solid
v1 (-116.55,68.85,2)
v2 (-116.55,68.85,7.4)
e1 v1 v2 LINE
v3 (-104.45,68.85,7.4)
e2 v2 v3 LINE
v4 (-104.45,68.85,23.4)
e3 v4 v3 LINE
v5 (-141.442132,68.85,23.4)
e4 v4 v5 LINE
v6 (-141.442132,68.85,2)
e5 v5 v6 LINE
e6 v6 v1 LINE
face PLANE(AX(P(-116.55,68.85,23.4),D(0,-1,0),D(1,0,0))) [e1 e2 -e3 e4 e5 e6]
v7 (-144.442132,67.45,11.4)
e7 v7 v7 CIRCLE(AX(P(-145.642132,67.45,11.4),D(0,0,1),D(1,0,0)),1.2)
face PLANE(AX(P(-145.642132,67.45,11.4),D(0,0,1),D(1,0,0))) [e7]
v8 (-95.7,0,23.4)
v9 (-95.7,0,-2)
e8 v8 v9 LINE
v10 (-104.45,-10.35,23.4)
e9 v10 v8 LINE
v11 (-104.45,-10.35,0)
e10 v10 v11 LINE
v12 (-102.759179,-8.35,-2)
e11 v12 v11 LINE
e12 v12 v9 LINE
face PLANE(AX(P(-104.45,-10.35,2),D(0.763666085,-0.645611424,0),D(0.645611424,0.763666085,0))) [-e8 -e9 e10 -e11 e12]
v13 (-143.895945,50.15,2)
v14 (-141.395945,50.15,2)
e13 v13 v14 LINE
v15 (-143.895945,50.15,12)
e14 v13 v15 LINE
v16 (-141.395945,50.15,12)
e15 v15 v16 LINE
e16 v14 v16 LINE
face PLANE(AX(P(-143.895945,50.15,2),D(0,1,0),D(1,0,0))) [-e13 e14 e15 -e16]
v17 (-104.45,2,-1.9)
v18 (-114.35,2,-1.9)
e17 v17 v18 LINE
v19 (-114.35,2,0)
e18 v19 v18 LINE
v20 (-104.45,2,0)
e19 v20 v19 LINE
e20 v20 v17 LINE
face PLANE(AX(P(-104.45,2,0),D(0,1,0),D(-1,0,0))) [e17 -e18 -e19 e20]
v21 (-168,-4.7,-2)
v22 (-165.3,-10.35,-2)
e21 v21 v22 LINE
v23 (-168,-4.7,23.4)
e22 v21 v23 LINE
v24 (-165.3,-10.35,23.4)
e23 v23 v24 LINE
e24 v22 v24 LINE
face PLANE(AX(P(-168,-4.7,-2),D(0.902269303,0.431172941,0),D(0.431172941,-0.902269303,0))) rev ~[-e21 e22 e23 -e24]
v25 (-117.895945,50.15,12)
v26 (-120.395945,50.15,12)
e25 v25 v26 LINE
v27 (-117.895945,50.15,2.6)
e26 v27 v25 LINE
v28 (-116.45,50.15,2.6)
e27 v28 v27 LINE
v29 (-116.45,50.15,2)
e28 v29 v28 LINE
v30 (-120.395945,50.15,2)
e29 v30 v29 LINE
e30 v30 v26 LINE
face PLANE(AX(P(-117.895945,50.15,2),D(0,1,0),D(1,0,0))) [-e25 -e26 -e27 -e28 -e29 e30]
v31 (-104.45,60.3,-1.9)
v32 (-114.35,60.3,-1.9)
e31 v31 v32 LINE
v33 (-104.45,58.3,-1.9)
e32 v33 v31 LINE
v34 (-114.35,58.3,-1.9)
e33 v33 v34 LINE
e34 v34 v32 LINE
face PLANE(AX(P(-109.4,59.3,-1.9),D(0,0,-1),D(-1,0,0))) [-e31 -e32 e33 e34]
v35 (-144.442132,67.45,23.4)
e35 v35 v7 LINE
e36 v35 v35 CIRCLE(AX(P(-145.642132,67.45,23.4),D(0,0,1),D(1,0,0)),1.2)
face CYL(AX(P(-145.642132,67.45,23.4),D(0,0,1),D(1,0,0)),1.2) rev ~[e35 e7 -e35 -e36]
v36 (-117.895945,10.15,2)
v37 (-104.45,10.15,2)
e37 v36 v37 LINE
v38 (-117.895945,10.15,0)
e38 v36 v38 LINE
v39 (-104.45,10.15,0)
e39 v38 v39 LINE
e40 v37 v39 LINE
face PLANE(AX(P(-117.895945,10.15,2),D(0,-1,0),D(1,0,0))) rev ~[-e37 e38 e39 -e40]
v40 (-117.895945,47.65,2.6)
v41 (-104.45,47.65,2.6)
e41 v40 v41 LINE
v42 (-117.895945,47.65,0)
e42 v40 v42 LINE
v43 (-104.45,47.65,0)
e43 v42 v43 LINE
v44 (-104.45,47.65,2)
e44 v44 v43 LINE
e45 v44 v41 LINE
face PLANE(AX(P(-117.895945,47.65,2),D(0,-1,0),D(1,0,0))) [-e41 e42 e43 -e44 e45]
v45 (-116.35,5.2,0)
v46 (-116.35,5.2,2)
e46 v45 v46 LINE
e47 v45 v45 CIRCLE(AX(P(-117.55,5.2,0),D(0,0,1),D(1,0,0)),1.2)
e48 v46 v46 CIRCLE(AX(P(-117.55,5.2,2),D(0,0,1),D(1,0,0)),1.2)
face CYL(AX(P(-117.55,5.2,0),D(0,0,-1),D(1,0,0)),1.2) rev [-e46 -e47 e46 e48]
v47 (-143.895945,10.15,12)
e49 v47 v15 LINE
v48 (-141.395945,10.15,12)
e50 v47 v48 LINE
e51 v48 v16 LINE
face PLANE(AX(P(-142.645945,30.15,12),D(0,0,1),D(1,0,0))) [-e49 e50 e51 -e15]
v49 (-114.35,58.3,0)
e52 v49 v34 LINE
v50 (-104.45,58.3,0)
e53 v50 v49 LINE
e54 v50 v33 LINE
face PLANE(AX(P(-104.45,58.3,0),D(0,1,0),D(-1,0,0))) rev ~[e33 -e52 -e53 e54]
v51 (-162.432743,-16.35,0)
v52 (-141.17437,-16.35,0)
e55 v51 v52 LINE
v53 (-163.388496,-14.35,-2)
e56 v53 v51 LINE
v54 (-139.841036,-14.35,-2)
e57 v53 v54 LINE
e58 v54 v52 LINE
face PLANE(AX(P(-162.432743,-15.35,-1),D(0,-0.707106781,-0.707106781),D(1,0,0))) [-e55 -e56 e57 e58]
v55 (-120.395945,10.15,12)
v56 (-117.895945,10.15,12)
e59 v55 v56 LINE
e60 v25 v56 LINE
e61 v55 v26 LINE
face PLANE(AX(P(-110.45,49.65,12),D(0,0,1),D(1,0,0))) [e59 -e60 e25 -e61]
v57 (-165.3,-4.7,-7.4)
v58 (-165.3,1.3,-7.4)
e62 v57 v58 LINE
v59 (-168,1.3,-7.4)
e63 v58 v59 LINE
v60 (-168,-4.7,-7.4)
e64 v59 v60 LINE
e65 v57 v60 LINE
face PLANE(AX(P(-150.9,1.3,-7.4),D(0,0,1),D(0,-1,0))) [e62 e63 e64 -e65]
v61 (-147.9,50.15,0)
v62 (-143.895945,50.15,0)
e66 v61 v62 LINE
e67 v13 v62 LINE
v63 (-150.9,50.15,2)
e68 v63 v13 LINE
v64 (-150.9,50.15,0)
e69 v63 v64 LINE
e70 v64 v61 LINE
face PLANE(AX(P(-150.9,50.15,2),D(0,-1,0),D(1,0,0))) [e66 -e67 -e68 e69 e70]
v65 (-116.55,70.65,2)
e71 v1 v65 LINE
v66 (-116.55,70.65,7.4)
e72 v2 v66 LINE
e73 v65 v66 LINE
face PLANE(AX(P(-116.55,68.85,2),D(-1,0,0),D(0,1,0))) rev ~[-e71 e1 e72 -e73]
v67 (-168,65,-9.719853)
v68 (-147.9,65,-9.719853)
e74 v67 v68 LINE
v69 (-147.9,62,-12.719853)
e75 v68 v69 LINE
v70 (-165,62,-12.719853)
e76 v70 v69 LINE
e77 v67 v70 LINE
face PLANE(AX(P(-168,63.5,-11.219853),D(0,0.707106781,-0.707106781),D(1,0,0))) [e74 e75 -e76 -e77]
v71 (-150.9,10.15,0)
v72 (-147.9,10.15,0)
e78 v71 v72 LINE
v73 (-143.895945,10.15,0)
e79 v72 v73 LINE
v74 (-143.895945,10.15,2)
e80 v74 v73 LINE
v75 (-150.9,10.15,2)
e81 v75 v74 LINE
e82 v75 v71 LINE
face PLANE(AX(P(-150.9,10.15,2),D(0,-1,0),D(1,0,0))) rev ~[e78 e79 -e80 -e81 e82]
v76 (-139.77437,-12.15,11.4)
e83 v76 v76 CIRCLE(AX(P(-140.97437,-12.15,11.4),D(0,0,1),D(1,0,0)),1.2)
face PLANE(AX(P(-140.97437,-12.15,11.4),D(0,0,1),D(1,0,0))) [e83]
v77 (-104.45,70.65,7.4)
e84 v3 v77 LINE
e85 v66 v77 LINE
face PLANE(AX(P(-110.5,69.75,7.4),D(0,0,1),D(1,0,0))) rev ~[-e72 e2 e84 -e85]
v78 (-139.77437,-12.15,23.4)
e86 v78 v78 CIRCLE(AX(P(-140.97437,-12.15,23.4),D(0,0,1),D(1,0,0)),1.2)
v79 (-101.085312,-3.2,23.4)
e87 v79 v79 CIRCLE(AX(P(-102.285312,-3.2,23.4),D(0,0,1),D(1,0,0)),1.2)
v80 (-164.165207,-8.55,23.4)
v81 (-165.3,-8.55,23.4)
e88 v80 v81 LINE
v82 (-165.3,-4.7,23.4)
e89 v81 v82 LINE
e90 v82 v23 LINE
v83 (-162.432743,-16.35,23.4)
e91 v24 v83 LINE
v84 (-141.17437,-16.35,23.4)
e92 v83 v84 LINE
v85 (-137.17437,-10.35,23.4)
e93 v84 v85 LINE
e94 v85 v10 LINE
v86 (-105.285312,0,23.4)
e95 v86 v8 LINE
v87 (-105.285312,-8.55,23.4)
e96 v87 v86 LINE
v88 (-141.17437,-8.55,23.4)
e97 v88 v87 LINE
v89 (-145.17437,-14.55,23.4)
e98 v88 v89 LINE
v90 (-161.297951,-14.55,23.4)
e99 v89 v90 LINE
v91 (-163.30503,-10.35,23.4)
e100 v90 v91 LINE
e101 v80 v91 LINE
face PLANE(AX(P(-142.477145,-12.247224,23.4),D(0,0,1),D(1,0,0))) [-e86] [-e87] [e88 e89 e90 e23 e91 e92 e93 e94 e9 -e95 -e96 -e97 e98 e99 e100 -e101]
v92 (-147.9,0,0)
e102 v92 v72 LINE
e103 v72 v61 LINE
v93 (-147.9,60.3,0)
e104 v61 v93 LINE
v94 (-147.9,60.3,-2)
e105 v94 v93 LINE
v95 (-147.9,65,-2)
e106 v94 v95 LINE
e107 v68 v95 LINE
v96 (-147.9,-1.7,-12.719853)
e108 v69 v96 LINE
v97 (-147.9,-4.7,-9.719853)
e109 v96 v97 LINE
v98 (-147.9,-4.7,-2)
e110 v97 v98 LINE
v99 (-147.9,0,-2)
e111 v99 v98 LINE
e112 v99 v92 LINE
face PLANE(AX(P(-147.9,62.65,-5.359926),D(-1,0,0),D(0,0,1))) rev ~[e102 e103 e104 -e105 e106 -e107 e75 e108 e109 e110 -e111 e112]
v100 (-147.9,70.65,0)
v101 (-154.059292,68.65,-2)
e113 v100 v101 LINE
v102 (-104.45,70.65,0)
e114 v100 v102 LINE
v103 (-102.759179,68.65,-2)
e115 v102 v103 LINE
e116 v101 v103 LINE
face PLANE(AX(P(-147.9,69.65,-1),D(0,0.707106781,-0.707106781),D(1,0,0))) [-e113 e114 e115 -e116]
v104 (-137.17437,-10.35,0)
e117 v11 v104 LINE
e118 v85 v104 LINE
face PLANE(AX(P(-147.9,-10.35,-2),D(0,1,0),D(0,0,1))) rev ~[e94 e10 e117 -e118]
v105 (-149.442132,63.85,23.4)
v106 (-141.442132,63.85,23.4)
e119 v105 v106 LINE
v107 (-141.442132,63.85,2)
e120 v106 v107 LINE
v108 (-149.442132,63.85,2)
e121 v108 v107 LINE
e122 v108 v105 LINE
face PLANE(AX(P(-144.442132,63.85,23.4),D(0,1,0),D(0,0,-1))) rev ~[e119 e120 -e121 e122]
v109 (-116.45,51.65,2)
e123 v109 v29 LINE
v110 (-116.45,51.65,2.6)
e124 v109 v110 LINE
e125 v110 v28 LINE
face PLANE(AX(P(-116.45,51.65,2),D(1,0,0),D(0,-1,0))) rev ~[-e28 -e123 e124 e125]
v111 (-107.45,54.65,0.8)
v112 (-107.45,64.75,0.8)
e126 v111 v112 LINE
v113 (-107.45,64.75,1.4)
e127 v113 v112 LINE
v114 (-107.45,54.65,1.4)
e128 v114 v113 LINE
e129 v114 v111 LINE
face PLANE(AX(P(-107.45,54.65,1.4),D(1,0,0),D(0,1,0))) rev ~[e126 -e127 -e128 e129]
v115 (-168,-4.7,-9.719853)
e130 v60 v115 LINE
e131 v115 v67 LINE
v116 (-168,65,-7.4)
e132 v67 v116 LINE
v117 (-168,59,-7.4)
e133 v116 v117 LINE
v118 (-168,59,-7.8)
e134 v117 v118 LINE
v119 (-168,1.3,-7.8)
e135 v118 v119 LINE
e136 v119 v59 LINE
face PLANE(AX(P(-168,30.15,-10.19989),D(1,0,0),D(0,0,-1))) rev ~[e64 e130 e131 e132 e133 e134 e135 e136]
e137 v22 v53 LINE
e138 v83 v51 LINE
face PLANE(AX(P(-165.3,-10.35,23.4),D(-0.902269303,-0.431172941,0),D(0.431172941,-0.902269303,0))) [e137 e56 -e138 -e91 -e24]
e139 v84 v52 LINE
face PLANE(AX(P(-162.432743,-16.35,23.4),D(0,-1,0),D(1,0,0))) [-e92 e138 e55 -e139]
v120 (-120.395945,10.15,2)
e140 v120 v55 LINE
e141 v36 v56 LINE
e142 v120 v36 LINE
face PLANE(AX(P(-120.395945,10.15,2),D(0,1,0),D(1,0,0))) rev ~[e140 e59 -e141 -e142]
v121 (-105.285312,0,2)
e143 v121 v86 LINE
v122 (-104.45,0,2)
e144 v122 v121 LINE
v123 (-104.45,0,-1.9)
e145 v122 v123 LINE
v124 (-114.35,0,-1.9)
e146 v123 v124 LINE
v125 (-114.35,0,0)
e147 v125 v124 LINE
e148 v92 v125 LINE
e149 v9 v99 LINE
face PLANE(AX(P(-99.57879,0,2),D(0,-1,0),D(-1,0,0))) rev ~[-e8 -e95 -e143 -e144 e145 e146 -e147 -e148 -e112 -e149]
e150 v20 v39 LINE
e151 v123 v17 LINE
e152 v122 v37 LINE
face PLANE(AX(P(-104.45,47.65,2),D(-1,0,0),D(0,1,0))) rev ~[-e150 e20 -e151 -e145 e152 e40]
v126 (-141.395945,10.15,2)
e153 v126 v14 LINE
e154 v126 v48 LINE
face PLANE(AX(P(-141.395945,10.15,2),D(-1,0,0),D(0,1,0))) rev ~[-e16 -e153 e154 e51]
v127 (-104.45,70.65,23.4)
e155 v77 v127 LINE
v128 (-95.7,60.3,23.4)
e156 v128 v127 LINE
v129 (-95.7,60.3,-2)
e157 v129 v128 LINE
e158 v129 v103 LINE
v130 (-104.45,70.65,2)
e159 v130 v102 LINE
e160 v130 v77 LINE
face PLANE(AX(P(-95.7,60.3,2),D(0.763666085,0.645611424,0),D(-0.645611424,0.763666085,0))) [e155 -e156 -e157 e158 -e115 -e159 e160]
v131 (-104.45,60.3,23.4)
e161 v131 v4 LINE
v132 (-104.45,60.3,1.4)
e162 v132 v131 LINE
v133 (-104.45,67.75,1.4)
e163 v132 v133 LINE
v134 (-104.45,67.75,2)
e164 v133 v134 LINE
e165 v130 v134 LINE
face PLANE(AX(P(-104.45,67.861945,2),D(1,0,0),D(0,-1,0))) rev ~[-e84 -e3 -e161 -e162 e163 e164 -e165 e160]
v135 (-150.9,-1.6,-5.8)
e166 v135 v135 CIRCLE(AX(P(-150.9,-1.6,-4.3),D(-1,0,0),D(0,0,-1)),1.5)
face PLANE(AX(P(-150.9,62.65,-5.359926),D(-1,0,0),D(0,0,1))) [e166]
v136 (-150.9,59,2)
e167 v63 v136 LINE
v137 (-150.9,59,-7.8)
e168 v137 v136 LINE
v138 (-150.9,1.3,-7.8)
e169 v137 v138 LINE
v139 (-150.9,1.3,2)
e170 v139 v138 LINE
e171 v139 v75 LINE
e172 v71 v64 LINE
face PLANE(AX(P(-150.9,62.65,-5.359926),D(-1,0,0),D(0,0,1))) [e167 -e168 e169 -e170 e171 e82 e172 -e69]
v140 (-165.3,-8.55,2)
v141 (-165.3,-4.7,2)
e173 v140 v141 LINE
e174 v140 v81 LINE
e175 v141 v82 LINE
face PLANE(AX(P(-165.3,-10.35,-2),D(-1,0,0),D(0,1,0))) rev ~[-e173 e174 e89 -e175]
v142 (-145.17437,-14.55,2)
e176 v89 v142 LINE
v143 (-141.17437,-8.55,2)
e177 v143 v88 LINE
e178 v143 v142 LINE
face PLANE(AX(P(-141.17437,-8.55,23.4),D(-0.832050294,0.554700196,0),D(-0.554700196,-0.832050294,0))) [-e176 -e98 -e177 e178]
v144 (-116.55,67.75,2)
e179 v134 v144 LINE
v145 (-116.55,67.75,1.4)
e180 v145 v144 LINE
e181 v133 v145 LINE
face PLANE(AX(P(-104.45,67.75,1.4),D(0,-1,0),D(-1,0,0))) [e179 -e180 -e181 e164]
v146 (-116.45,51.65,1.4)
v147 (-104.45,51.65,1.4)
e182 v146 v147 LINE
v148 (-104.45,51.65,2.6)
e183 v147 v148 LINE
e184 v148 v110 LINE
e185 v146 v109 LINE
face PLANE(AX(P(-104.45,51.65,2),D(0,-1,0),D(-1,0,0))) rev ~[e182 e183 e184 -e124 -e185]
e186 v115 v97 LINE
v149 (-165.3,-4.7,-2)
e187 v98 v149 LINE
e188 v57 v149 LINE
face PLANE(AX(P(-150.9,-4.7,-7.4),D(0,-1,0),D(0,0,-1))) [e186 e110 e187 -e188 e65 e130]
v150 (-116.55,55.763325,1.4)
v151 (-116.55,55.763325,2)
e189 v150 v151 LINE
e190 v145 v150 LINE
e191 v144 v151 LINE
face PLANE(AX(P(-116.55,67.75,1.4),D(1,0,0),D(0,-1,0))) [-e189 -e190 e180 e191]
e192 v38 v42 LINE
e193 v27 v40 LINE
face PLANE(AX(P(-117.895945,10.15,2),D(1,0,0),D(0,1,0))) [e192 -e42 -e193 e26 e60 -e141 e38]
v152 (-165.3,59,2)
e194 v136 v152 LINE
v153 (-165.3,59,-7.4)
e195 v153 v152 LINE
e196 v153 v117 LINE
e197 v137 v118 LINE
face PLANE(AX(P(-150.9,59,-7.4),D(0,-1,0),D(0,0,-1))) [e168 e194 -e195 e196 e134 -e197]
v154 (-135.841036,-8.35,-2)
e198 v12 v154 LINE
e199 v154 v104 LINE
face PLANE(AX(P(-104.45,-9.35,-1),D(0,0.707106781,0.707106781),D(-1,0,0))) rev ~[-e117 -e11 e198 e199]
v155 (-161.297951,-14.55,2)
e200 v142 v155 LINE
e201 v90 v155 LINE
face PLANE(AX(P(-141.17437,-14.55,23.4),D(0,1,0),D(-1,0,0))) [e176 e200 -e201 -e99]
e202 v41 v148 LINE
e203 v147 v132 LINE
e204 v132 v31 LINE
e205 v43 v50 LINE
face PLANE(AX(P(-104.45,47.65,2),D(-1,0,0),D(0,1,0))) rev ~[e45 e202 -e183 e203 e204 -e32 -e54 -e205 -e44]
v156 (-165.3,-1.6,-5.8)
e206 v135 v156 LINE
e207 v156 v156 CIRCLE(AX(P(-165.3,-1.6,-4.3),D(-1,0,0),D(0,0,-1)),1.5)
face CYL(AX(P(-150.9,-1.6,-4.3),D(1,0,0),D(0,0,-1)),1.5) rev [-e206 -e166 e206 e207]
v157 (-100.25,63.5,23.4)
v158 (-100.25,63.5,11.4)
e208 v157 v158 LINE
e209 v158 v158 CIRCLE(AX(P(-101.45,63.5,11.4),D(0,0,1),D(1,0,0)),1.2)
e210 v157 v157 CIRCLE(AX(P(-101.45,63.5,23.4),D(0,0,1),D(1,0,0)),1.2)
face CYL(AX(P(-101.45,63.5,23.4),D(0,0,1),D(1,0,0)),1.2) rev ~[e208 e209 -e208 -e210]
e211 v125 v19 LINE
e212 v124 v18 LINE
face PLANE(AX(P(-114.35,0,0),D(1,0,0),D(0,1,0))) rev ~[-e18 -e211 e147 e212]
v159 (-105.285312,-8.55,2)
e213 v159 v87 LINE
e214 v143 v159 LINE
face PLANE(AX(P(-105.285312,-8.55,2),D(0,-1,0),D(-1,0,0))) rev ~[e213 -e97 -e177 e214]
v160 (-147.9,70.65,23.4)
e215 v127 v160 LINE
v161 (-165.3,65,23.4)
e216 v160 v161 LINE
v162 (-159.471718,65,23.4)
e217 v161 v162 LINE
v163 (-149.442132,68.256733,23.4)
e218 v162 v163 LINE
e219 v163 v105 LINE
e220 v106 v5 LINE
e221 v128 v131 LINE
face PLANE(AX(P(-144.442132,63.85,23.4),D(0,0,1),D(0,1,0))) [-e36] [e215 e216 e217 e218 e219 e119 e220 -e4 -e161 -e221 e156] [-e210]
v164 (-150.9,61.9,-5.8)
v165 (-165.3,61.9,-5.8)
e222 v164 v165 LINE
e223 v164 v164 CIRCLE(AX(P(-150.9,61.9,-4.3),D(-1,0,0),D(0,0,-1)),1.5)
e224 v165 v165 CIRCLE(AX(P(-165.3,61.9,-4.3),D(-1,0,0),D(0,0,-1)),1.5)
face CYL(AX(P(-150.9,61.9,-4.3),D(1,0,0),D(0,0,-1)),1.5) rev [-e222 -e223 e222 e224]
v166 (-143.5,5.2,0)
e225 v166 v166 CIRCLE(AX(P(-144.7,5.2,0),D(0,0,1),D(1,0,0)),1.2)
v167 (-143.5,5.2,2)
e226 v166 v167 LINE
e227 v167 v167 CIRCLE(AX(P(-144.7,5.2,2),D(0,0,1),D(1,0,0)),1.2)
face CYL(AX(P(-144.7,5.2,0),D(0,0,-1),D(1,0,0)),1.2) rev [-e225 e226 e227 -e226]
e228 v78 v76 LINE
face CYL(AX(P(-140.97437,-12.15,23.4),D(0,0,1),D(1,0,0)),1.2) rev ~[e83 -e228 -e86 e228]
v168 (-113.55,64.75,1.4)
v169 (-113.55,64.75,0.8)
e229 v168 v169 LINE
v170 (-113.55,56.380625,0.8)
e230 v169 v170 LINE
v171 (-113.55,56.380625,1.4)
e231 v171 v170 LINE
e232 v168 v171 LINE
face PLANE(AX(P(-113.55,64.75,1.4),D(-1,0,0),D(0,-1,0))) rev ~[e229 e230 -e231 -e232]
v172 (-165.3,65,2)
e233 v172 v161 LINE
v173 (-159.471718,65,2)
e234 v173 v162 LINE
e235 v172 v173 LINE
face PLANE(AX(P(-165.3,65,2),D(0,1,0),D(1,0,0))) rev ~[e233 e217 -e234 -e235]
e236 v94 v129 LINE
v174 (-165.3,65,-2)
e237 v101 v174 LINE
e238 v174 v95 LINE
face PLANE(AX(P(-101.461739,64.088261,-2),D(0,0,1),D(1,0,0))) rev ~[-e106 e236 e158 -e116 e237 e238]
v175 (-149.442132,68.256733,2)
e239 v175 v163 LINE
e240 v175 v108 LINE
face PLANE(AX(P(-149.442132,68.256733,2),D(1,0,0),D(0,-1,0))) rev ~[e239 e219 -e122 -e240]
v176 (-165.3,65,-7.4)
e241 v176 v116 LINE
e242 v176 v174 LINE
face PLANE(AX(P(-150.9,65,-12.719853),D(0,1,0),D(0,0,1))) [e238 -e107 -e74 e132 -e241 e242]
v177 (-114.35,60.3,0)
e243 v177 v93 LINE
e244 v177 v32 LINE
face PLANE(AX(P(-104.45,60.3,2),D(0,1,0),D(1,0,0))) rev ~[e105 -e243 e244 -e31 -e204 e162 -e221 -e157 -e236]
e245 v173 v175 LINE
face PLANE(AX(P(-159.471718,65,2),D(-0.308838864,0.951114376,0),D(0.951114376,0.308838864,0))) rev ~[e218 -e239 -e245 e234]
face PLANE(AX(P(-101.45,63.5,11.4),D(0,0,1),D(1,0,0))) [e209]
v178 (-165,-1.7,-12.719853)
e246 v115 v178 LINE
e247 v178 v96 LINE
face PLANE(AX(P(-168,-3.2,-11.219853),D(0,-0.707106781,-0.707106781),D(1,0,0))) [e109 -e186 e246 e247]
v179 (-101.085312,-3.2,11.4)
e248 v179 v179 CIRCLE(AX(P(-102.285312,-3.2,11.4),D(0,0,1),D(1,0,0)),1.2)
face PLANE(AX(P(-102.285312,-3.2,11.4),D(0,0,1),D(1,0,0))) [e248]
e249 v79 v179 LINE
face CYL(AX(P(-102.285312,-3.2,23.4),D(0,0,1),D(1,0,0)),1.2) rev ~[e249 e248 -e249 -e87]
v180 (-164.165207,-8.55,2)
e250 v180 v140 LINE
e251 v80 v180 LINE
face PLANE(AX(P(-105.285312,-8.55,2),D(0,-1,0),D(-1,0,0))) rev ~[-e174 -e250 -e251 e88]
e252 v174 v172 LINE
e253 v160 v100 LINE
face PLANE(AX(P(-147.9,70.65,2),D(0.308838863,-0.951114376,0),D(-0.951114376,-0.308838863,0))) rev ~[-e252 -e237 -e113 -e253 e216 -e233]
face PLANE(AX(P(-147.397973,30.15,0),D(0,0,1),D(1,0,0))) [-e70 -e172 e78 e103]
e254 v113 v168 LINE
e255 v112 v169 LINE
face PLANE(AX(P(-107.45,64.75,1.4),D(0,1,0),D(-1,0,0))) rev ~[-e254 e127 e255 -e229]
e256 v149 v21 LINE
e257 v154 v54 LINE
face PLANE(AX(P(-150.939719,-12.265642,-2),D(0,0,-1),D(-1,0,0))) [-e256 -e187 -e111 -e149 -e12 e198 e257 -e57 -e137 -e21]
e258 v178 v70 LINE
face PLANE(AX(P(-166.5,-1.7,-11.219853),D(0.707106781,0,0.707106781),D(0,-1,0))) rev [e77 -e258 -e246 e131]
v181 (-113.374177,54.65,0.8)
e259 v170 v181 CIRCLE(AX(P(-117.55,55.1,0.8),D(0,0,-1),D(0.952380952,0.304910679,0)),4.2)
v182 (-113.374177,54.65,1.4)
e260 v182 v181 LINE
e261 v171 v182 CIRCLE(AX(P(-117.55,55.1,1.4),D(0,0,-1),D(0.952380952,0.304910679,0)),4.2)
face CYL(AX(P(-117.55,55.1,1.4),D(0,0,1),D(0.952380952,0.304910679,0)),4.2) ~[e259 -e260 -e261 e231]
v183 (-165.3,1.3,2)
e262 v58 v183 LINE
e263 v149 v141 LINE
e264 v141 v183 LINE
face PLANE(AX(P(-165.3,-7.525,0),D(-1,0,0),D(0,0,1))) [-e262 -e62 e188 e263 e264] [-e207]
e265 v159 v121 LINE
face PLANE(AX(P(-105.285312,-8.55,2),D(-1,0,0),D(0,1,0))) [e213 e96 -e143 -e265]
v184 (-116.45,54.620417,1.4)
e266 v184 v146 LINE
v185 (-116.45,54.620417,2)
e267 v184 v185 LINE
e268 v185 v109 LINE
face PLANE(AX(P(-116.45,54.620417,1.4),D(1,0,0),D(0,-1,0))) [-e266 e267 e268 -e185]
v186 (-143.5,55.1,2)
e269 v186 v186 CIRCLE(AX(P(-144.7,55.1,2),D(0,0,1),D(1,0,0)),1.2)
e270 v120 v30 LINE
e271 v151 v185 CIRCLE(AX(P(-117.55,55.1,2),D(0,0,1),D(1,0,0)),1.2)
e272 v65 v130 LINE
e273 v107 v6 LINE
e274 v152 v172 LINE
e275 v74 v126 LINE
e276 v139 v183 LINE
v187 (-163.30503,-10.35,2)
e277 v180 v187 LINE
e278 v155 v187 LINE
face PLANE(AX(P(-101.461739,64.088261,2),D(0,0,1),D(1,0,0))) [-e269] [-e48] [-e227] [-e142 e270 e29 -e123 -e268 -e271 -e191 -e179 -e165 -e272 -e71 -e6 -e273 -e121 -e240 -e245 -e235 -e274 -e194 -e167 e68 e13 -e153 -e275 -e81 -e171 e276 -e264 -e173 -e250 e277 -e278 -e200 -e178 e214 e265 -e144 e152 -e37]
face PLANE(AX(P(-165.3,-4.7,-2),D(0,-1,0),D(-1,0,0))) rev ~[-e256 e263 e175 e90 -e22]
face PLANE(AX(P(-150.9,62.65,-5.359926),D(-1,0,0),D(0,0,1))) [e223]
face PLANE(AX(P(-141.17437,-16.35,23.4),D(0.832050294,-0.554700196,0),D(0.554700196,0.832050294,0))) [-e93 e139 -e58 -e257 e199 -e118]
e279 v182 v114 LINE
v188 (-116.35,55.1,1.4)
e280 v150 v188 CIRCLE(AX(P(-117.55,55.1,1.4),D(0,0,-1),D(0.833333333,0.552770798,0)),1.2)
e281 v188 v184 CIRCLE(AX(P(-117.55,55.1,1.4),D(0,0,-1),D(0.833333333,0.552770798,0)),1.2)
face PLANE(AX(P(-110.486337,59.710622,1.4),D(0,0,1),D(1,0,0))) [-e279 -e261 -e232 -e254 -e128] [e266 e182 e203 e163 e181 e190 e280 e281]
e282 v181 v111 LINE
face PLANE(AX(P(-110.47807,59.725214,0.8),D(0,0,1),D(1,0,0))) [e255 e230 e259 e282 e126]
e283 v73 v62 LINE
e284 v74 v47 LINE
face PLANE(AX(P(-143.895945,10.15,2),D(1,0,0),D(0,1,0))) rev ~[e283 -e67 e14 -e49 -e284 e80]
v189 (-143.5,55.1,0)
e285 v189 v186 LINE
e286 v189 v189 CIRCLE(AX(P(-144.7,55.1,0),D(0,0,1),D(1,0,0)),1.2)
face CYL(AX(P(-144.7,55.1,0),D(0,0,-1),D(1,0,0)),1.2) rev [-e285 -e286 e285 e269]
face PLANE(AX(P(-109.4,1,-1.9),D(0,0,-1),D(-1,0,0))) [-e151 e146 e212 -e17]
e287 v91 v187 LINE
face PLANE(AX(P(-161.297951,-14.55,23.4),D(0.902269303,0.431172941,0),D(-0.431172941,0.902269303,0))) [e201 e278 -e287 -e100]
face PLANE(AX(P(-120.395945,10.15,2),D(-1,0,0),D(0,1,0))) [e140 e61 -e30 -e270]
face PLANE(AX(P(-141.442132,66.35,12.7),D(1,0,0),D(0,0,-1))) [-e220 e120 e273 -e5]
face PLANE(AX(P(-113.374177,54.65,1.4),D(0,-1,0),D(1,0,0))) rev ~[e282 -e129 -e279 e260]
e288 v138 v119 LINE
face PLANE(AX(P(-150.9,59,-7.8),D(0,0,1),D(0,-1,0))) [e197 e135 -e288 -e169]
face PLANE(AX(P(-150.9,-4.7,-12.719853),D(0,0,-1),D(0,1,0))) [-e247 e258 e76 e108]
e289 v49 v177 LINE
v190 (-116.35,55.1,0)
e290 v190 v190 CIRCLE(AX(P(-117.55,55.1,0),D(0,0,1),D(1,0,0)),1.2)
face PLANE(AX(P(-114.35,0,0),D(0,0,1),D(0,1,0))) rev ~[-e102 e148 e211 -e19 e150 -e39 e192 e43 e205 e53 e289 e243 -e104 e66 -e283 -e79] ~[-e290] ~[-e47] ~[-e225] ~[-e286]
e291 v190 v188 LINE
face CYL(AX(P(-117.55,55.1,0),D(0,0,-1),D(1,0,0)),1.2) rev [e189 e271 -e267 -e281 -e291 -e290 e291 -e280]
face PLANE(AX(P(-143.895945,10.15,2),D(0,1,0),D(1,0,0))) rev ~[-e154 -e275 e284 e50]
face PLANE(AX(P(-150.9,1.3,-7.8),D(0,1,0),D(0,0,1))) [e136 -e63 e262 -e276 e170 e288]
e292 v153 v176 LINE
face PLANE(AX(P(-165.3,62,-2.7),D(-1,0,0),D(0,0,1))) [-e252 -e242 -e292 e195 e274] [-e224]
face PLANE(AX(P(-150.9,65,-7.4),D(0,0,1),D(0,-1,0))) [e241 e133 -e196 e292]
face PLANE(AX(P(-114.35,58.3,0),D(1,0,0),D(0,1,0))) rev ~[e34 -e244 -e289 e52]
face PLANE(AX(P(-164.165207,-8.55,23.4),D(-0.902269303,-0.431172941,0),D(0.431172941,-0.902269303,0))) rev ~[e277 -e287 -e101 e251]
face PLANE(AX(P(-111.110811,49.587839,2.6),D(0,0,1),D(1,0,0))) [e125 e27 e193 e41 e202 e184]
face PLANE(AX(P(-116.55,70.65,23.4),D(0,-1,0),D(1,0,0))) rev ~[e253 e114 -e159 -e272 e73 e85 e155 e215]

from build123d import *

# Parameters (mm, degrees)
SKETCH_1_W          = 33.55
SKETCH_1_H          = 60.3
SKETCH_1_R          = 1.2
EXTRUDE_1_DEPTH     = 2
SKETCH_2_W          = 2
SKETCH_2_H          = 60.3
EXTRUDE_2_DEPTH     = 9.9
SKETCH_3_W          = 9.9
SKETCH_3_H          = 2
EXTRUDE_3_DEPTH     = 1.9
SKETCH_4_W          = 10.719852834
SKETCH_4_H          = 56.3
SKETCH_4_W_2        = 2
SKETCH_4_H_2        = 60.3
EXTRUDE_5_DEPTH     = 3
SKETCH_6_W          = 14.719852834
SKETCH_6_H          = 4.7
EXTRUDE_6_DEPTH     = 3
SKETCH_7_W          = 9.4
SKETCH_7_H          = 6
SKETCH_7_R          = 1.5
EXTRUDE_7_DEPTH     = 14.4
EXTRUDE_8_DEPTH     = 17.1
EXTRUDE_9_DEPTH     = 8.35
SKETCH_10_W         = 43.45
SKETCH_10_H         = 4
EXTRUDE_10_DEPTH    = 8.35
CUT_EXTRUDE_START   = -0.6
CUT_EXTRUDE_1_DEPTH = 0.6
CUT_EXTRUDE_2_DEPTH = 0.6
SKETCH_13_W         = 43.45
SKETCH_13_H         = 4
EXTRUDE_11_DEPTH    = 2
SKETCH_14_W         = 43.45
SKETCH_14_H         = 4
EXTRUDE_12_DEPTH    = 2
EXTRUDE_13_DEPTH    = 4
SKETCH_16_W         = 2.5
SKETCH_16_H         = 40
EXTRUDE_14_DEPTH    = 10
SKETCH_17_W         = 4
SKETCH_17_H         = 5.65
EXTRUDE_15_DEPTH    = 17.4
EXTRUDE_16_DEPTH    = 4
SKETCH_19_W         = 1.8
SKETCH_19_H         = 1.8
EXTRUDE_17_DEPTH    = 21.4
SKETCH_20_W         = 12.1
SKETCH_20_H         = 1.8
EXTRUDE_18_DEPTH    = 16
EXTRUDE_START       = -4
EXTRUDE_22_DEPTH    = 25.4
EXTRUDE_23_DEPTH    = 25.4
CUT_EXTRUDE_3_DEPTH = 21.4
EXTRUDE_24_DEPTH    = 4
EXTRUDE_25_DEPTH    = 21.4
SKETCH_26_W         = 1.445945033
SKETCH_26_H         = 2.5
EXTRUDE_26_DEPTH    = 10
EXTRUDE_27_DEPTH    = 21.4
EXTRUDE_28_DEPTH    = 21.4
SKETCH_29_W         = 21.4
SKETCH_29_H         = 5
EXTRUDE_29_DEPTH    = 3
SKETCH_30_R         = 1.2
CUT_EXTRUDE_4_DEPTH = 12
SKETCH_31_W         = 13.445945033
SKETCH_31_H         = 37.5
SKETCH_31_W_2       = 7.004054967
SKETCH_31_H_2       = 40
CUT_EXTRUDE_5_DEPTH = 2
CUT_EXTRUDE_START_2 = -9.4
CUT_EXTRUDE_6_DEPTH = 9.4
CHAMFER_2_SIZE      = 2
CHAMFER_3_SIZE      = 3
CHAMFER_4_SIZE      = 3


with BuildPart() as part:
    # 草图1 → 凸台-拉伸1 (new body)
    with BuildSketch(Plane.XY):
        with Locations((-131.125, 30.15)):
            Rectangle(SKETCH_1_W, SKETCH_1_H)
        with Locations((-144.7, 5.2)):
            Circle(SKETCH_1_R, mode=Mode.SUBTRACT)
        with Locations((-117.55, 5.2)):
            Circle(SKETCH_1_R, mode=Mode.SUBTRACT)
        with Locations((-117.55, 55.1)):
            Circle(SKETCH_1_R, mode=Mode.SUBTRACT)
        with Locations((-144.7, 55.1)):
            Circle(SKETCH_1_R, mode=Mode.SUBTRACT)
    extrude(amount=EXTRUDE_1_DEPTH)

    # 草图2 → 凸台-拉伸2 (add)
    with BuildSketch(Plane(origin=(-114.35, 0, 0), x_dir=(0, 0, -1), z_dir=(1, 0, 0))):
        with Locations((-1, 30.15)):
            Rectangle(SKETCH_2_W, SKETCH_2_H)
    extrude(amount=EXTRUDE_2_DEPTH)

    # 草图3 → 凸台-拉伸3 (add)
    with BuildSketch(Plane(origin=(0, 0, 0), x_dir=(-1, 0, 0), z_dir=(0, 0, -1))):
        with Locations((109.4, 59.3)):
            Rectangle(SKETCH_3_W, SKETCH_3_H)
        with Locations((109.4, 1)):
            Rectangle(SKETCH_3_W, SKETCH_3_H)
    extrude(amount=EXTRUDE_3_DEPTH)

    # 草图4 → 凸台-拉伸5 (add)
    with BuildSketch(Plane.ZY.offset(147.9)):
        Polygon((0, 60.3), (-12.719852834, 60.3), (-12.719852834, 58.3), (-2, 58.3), (-2, 2), (-12.719852834, 2), (-12.719852834, 0), (0, 0), align=None)
        with Locations((-7.359926417, 30.15)):
            Rectangle(SKETCH_4_W, SKETCH_4_H)
        with Locations((1, 30.15)):
            Rectangle(SKETCH_4_W_2, SKETCH_4_H_2)
    extrude(amount=EXTRUDE_5_DEPTH)

    # 草图6 → 凸台-拉伸6 (add)
    with BuildSketch(Plane.ZY.offset(150.9)):
        with Locations((-5.359926417, 62.65)):
            Rectangle(SKETCH_6_W, SKETCH_6_H)
        with Locations((-5.359926417, -2.35)):
            Rectangle(SKETCH_6_W, SKETCH_6_H)
    extrude(amount=-EXTRUDE_6_DEPTH)

    # 草图7 → 凸台-拉伸7 (add)
    # profile 1 of 2: a face of its own
    with BuildSketch(Plane.ZY.offset(150.9)):
        with Locations((-2.7, 62)):
            Rectangle(SKETCH_7_W, SKETCH_7_H)
        with Locations(Location((-4.3, 61.9, 0), (0, 0, 180))):
            Circle(SKETCH_7_R, mode=Mode.SUBTRACT)
    # profile 2 of 2: a face of its own
    with BuildSketch(Plane.ZY.offset(150.9)):
        with Locations((-2.7, -1.7)):
            Rectangle(SKETCH_7_W, SKETCH_7_H)
        with Locations(Location((-4.3, -1.6, 0), (0, 0, 180))):
            Circle(SKETCH_7_R, mode=Mode.SUBTRACT)
    extrude(amount=EXTRUDE_7_DEPTH)

    # 草图8 → 凸台-拉伸8 (add)
    with BuildSketch(Plane.ZY.offset(150.9)):
        Polygon((-7.8, 59), (-7.8, 1.3), (-7.4, 1.3), (-7.4, -4.7), (-12.719852834, -4.7), (-12.719852834, 65), (-7.4, 65), (-7.4, 59), align=None)
    extrude(amount=EXTRUDE_8_DEPTH)

    # 草图9 → 凸台-拉伸9 (add)
    with BuildSketch(Plane(origin=(0, 60.3, 0), x_dir=(1, 0, 0), z_dir=(0, 1, 0))):
        Polygon((-114.35, 1.9), (-114.35, 0), (-147.9, 0), (-147.9, -2), (-104.45, -2), (-104.45, 1.9), align=None)
        Polygon((-114.35, 1.9), (-104.45, 1.9), (-104.45, 2), (-147.9, 2), (-147.9, 0), (-114.35, 0), align=None)
    extrude(amount=EXTRUDE_9_DEPTH)

    # 草图10 → 凸台-拉伸10 (add)
    with BuildSketch(Plane.XZ):
        with Locations((-126.175, 0)):
            Rectangle(SKETCH_10_W, SKETCH_10_H)
    extrude(amount=EXTRUDE_10_DEPTH)

    # 草图11 → 切除-拉伸1 (cut)
    with BuildSketch(Plane.XY.offset(2).offset(CUT_EXTRUDE_START)):
        with BuildLine():
            Line((-104.45, 51.65), (-104.45, 67.75))
            Line((-104.45, 67.75), (-116.55, 67.75))
            Line((-116.55, 67.75), (-116.55, 55.763324958))
            ThreePointArc((-116.55, 55.763324958), (-116.354567134, 55.204595711), (-116.45, 54.620416848))
            Line((-116.45, 54.620416848), (-116.45, 51.65))
            Line((-116.45, 51.65), (-104.45, 51.65))
        make_face()
    extrude(amount=CUT_EXTRUDE_1_DEPTH, mode=Mode.SUBTRACT)

    # 草图12 → 切除-拉伸2 (cut)
    with BuildSketch(Plane.XY.offset(1.4)):
        with BuildLine():
            Line((-113.374176728, 54.65), (-107.45, 54.65))
            Line((-107.45, 54.65), (-107.45, 64.75))
            Line((-107.45, 64.75), (-113.55, 64.75))
            Line((-113.55, 64.75), (-113.55, 56.380624847))
            ThreePointArc((-113.55, 56.380624847), (-113.371508988, 55.524514858), (-113.374176728, 54.65))
        make_face()
    extrude(amount=-CUT_EXTRUDE_2_DEPTH, mode=Mode.SUBTRACT)

    # 草图13 → 凸台-拉伸11 (add)
    with BuildSketch(Plane(origin=(0, 68.65, 0), x_dir=(1, 0, 0), z_dir=(0, 1, 0))):
        with Locations((-126.175, 0)):
            Rectangle(SKETCH_13_W, SKETCH_13_H)
    extrude(amount=EXTRUDE_11_DEPTH)

    # 草图14 → 凸台-拉伸12 (add)
    with BuildSketch(Plane.XZ.offset(8.35)):
        with Locations((-126.175, 0)):
            Rectangle(SKETCH_14_W, SKETCH_14_H)
    extrude(amount=EXTRUDE_12_DEPTH)

    # 草图15 → 凸台-拉伸13 (add)
    with BuildSketch(Plane.XY.offset(2)):
        Polygon((-147.9, 70.65), (-165.3, 65), (-147.9, 65), align=None)
    extrude(amount=-EXTRUDE_13_DEPTH)

    # 草图16 → 凸台-拉伸14 (add)
    with BuildSketch(Plane.XY.offset(2)):
        with Locations((-142.645945033, 30.15)):
            Rectangle(SKETCH_16_W, SKETCH_16_H)
        with Locations((-119.145945033, 30.15)):
            Rectangle(SKETCH_16_W, SKETCH_16_H)
    extrude(amount=EXTRUDE_14_DEPTH)

    # 草图17 → 凸台-拉伸15 (add)
    with BuildSketch(Plane.ZY.offset(147.9)):
        with Locations((0, -7.525)):
            Rectangle(SKETCH_17_W, SKETCH_17_H)
    extrude(amount=EXTRUDE_15_DEPTH)

    # 草图18 → 凸台-拉伸16 (add)
    with BuildSketch(Plane.XY.offset(2)):
        Polygon((-104.45, 67.75), (-104.45, 60.3), (-95.7, 60.3), (-104.45, 70.65), align=None)
        Polygon((-104.45, 0), (-104.45, -10.35), (-95.7, 0), align=None)
    extrude(amount=-EXTRUDE_16_DEPTH)

    # 草图19 → 凸台-拉伸17 (add)
    with BuildSketch(Plane.XY.offset(2)):
        Polygon((-165.3, 65), (-159.471717964, 65), (-147.615080796, 68.85), (-118.35, 68.85), (-118.35, 70.65), (-147.9, 70.65), align=None)
        with Locations((-117.45, 69.75)):
            Rectangle(SKETCH_19_W, SKETCH_19_H)
        Polygon((-95.7, 60.3), (-104.45, 70.65), (-104.45, 67.861945247), (-102.65, 65.73280239), (-99.57879025, 62.1), (-99.57879025, 60.3), align=None)
        Polygon((-105.285311989, -8.55), (-163.5, -8.55), (-165.3, -8.55), (-165.3, -10.35), (-104.45, -10.35), (-95.7, 0), (-99.57879025, 0), (-99.57879025, -1.8), align=None)
    extrude(amount=EXTRUDE_17_DEPTH)

    # 草图20 → 凸台-拉伸18 (add)
    with BuildSketch(Plane.XY.offset(23.4)):
        with Locations((-110.5, 69.75)):
            Rectangle(SKETCH_20_W, SKETCH_20_H)
    extrude(amount=-EXTRUDE_18_DEPTH)

    # 草图21 → 凸台-拉伸22 (add)
    with BuildSketch(Plane.XY.offset(2).offset(EXTRUDE_START)):
        Polygon((-165.3, -8.55), (-165.3, -4.7), (-168, -4.7), (-165.3, -10.35), align=None)
    extrude(amount=EXTRUDE_22_DEPTH)

    # 草图22 → 凸台-拉伸23 (add)
    with BuildSketch(Plane.XY.offset(23.4)):
        Polygon((-163.305030212, -10.35), (-165.3, -10.35), (-162.432743363, -16.35), (-141.174369577, -16.35), (-137.174369577, -10.35), (-138.374369577, -10.35), (-141.174369577, -14.55), (-161.297950566, -14.55), align=None)
    extrude(amount=-EXTRUDE_23_DEPTH)

    # 草图23 → 切除-拉伸3 (cut)
    with BuildSketch(Plane.XY.offset(23.4)):
        Polygon((-164.165207203, -8.55), (-163.305030212, -10.35), (-138.374369577, -10.35), (-137.174369577, -8.55), align=None)
    extrude(amount=-CUT_EXTRUDE_3_DEPTH, mode=Mode.SUBTRACT)

    # 草图24 → 凸台-拉伸24 (add)
    with BuildSketch(Plane(origin=(0, 0, -2), x_dir=(-1, 0, 0), z_dir=(0, 0, -1))):
        Polygon((141.174369577, -14.55), (161.297950566, -14.55), (163.305030212, -10.35), (138.374369577, -10.35), align=None)
    extrude(amount=-EXTRUDE_24_DEPTH)

    # 草图25 → 凸台-拉伸25 (add)
    with BuildSketch(Plane.XY.offset(2)):
        Polygon((-147.615080796, 68.85), (-149.4421323, 68.256733276), (-149.4421323, 63.85), (-144.4421323, 63.85), (-144.4421323, 68.85), align=None)
        Polygon((-141.174369577, -8.55), (-141.174369577, -14.55), (-137.174369577, -8.55), align=None)
        Polygon((-105.285311989, 0), (-104.45, 0), (-99.57879025, 0), (-99.57879025, -1.8), (-105.285311989, -8.55), align=None)
    extrude(amount=EXTRUDE_25_DEPTH)

    # 草图26 → 凸台-拉伸26 (add)
    with BuildSketch(Plane.XY.offset(2)):
        Polygon((-116.45, 50.15), (-116.45, 47.65), (-104.45, 47.65), (-104.45, 51.65), (-116.45, 51.65), align=None)
        with Locations((-117.172972517, 48.9)):
            Rectangle(SKETCH_26_W, SKETCH_26_H)
    extrude(amount=EXTRUDE_26_DEPTH)

    # 草图27 → 凸台-拉伸27 (add)
    with BuildSketch(Plane.XY.offset(2)):
        Polygon((-104.45, 67.861945247), (-104.45, 67.75), (-104.45, 60.3), (-99.57879025, 60.3), (-99.57879025, 62.1), align=None)
    extrude(amount=EXTRUDE_27_DEPTH)

    # 草图28 → 凸台-拉伸28 (add)
    with BuildSketch(Plane.XY.offset(23.4)):
        Polygon((-141.174369577, -14.55), (-141.174369577, -8.55), (-145.174369577, -14.55), align=None)
    extrude(amount=-EXTRUDE_28_DEPTH)

    # 草图29 → 凸台-拉伸29 (add)
    with BuildSketch(Plane(origin=(-144.4421323, 0, 0), x_dir=(0, 0, -1), z_dir=(1, 0, 0))):
        with Locations((-12.7, 66.35)):
            Rectangle(SKETCH_29_W, SKETCH_29_H)
    extrude(amount=EXTRUDE_29_DEPTH)

    # 草图30 → 切除-拉伸4 (cut)
    with BuildSketch(Plane.XY.offset(23.4)):
        with Locations((-102.285311989, -3.2)):
            Circle(SKETCH_30_R)
        with Locations((-101.45, 63.5)):
            Circle(SKETCH_30_R)
        with Locations((-140.974369577, -12.15)):
            Circle(SKETCH_30_R)
        with Locations((-145.6421323, 67.45)):
            Circle(SKETCH_30_R)
    extrude(amount=-CUT_EXTRUDE_4_DEPTH, mode=Mode.SUBTRACT)

    # 草图31 → 切除-拉伸5 (cut)
    with BuildSketch(Plane.XY.offset(2)):
        with Locations((-111.172972517, 28.9)):
            Rectangle(SKETCH_31_W, SKETCH_31_H)
        with Locations((-147.397972517, 30.15)):
            Rectangle(SKETCH_31_W_2, SKETCH_31_H_2)
    extrude(amount=-CUT_EXTRUDE_5_DEPTH, mode=Mode.SUBTRACT)

    # 草图32 → 切除-拉伸6 (cut)
    with BuildSketch(Plane.XY.offset(12).offset(CUT_EXTRUDE_START_2)):
        Polygon((-117.895945033, 50.15), (-117.895945033, 47.65), (-104.45, 47.65), (-104.45, 51.65), (-116.45, 51.65), (-116.45, 50.15), align=None)
    extrude(amount=CUT_EXTRUDE_6_DEPTH, mode=Mode.SUBTRACT)

    # 倒角2
    chamfer_2_edges = [part.edges().sort_by_distance(p)[0] for p in [
        (-126.175, 70.65, -2),
        (-120.812184789, -10.35, -2),
        (-151.80355647, -16.35, -2),
    ]]
    chamfer(chamfer_2_edges, length=CHAMFER_2_SIZE)

    # 倒角3
    chamfer_3_edges = [part.edges().sort_by_distance(p)[0] for p in [
        (-157.95, -4.7, -12.719852834),
        (-157.95, 65, -12.719852834),
    ]]
    chamfer(chamfer_3_edges, length=CHAMFER_3_SIZE)

    # 倒角4
    chamfer_4_edges = [part.edges().sort_by_distance(p)[0] for p in [
        (-168, 30.15, -12.719852834),
    ]]
    chamfer(chamfer_4_edges, length=CHAMFER_4_SIZE)


solid = part.part
